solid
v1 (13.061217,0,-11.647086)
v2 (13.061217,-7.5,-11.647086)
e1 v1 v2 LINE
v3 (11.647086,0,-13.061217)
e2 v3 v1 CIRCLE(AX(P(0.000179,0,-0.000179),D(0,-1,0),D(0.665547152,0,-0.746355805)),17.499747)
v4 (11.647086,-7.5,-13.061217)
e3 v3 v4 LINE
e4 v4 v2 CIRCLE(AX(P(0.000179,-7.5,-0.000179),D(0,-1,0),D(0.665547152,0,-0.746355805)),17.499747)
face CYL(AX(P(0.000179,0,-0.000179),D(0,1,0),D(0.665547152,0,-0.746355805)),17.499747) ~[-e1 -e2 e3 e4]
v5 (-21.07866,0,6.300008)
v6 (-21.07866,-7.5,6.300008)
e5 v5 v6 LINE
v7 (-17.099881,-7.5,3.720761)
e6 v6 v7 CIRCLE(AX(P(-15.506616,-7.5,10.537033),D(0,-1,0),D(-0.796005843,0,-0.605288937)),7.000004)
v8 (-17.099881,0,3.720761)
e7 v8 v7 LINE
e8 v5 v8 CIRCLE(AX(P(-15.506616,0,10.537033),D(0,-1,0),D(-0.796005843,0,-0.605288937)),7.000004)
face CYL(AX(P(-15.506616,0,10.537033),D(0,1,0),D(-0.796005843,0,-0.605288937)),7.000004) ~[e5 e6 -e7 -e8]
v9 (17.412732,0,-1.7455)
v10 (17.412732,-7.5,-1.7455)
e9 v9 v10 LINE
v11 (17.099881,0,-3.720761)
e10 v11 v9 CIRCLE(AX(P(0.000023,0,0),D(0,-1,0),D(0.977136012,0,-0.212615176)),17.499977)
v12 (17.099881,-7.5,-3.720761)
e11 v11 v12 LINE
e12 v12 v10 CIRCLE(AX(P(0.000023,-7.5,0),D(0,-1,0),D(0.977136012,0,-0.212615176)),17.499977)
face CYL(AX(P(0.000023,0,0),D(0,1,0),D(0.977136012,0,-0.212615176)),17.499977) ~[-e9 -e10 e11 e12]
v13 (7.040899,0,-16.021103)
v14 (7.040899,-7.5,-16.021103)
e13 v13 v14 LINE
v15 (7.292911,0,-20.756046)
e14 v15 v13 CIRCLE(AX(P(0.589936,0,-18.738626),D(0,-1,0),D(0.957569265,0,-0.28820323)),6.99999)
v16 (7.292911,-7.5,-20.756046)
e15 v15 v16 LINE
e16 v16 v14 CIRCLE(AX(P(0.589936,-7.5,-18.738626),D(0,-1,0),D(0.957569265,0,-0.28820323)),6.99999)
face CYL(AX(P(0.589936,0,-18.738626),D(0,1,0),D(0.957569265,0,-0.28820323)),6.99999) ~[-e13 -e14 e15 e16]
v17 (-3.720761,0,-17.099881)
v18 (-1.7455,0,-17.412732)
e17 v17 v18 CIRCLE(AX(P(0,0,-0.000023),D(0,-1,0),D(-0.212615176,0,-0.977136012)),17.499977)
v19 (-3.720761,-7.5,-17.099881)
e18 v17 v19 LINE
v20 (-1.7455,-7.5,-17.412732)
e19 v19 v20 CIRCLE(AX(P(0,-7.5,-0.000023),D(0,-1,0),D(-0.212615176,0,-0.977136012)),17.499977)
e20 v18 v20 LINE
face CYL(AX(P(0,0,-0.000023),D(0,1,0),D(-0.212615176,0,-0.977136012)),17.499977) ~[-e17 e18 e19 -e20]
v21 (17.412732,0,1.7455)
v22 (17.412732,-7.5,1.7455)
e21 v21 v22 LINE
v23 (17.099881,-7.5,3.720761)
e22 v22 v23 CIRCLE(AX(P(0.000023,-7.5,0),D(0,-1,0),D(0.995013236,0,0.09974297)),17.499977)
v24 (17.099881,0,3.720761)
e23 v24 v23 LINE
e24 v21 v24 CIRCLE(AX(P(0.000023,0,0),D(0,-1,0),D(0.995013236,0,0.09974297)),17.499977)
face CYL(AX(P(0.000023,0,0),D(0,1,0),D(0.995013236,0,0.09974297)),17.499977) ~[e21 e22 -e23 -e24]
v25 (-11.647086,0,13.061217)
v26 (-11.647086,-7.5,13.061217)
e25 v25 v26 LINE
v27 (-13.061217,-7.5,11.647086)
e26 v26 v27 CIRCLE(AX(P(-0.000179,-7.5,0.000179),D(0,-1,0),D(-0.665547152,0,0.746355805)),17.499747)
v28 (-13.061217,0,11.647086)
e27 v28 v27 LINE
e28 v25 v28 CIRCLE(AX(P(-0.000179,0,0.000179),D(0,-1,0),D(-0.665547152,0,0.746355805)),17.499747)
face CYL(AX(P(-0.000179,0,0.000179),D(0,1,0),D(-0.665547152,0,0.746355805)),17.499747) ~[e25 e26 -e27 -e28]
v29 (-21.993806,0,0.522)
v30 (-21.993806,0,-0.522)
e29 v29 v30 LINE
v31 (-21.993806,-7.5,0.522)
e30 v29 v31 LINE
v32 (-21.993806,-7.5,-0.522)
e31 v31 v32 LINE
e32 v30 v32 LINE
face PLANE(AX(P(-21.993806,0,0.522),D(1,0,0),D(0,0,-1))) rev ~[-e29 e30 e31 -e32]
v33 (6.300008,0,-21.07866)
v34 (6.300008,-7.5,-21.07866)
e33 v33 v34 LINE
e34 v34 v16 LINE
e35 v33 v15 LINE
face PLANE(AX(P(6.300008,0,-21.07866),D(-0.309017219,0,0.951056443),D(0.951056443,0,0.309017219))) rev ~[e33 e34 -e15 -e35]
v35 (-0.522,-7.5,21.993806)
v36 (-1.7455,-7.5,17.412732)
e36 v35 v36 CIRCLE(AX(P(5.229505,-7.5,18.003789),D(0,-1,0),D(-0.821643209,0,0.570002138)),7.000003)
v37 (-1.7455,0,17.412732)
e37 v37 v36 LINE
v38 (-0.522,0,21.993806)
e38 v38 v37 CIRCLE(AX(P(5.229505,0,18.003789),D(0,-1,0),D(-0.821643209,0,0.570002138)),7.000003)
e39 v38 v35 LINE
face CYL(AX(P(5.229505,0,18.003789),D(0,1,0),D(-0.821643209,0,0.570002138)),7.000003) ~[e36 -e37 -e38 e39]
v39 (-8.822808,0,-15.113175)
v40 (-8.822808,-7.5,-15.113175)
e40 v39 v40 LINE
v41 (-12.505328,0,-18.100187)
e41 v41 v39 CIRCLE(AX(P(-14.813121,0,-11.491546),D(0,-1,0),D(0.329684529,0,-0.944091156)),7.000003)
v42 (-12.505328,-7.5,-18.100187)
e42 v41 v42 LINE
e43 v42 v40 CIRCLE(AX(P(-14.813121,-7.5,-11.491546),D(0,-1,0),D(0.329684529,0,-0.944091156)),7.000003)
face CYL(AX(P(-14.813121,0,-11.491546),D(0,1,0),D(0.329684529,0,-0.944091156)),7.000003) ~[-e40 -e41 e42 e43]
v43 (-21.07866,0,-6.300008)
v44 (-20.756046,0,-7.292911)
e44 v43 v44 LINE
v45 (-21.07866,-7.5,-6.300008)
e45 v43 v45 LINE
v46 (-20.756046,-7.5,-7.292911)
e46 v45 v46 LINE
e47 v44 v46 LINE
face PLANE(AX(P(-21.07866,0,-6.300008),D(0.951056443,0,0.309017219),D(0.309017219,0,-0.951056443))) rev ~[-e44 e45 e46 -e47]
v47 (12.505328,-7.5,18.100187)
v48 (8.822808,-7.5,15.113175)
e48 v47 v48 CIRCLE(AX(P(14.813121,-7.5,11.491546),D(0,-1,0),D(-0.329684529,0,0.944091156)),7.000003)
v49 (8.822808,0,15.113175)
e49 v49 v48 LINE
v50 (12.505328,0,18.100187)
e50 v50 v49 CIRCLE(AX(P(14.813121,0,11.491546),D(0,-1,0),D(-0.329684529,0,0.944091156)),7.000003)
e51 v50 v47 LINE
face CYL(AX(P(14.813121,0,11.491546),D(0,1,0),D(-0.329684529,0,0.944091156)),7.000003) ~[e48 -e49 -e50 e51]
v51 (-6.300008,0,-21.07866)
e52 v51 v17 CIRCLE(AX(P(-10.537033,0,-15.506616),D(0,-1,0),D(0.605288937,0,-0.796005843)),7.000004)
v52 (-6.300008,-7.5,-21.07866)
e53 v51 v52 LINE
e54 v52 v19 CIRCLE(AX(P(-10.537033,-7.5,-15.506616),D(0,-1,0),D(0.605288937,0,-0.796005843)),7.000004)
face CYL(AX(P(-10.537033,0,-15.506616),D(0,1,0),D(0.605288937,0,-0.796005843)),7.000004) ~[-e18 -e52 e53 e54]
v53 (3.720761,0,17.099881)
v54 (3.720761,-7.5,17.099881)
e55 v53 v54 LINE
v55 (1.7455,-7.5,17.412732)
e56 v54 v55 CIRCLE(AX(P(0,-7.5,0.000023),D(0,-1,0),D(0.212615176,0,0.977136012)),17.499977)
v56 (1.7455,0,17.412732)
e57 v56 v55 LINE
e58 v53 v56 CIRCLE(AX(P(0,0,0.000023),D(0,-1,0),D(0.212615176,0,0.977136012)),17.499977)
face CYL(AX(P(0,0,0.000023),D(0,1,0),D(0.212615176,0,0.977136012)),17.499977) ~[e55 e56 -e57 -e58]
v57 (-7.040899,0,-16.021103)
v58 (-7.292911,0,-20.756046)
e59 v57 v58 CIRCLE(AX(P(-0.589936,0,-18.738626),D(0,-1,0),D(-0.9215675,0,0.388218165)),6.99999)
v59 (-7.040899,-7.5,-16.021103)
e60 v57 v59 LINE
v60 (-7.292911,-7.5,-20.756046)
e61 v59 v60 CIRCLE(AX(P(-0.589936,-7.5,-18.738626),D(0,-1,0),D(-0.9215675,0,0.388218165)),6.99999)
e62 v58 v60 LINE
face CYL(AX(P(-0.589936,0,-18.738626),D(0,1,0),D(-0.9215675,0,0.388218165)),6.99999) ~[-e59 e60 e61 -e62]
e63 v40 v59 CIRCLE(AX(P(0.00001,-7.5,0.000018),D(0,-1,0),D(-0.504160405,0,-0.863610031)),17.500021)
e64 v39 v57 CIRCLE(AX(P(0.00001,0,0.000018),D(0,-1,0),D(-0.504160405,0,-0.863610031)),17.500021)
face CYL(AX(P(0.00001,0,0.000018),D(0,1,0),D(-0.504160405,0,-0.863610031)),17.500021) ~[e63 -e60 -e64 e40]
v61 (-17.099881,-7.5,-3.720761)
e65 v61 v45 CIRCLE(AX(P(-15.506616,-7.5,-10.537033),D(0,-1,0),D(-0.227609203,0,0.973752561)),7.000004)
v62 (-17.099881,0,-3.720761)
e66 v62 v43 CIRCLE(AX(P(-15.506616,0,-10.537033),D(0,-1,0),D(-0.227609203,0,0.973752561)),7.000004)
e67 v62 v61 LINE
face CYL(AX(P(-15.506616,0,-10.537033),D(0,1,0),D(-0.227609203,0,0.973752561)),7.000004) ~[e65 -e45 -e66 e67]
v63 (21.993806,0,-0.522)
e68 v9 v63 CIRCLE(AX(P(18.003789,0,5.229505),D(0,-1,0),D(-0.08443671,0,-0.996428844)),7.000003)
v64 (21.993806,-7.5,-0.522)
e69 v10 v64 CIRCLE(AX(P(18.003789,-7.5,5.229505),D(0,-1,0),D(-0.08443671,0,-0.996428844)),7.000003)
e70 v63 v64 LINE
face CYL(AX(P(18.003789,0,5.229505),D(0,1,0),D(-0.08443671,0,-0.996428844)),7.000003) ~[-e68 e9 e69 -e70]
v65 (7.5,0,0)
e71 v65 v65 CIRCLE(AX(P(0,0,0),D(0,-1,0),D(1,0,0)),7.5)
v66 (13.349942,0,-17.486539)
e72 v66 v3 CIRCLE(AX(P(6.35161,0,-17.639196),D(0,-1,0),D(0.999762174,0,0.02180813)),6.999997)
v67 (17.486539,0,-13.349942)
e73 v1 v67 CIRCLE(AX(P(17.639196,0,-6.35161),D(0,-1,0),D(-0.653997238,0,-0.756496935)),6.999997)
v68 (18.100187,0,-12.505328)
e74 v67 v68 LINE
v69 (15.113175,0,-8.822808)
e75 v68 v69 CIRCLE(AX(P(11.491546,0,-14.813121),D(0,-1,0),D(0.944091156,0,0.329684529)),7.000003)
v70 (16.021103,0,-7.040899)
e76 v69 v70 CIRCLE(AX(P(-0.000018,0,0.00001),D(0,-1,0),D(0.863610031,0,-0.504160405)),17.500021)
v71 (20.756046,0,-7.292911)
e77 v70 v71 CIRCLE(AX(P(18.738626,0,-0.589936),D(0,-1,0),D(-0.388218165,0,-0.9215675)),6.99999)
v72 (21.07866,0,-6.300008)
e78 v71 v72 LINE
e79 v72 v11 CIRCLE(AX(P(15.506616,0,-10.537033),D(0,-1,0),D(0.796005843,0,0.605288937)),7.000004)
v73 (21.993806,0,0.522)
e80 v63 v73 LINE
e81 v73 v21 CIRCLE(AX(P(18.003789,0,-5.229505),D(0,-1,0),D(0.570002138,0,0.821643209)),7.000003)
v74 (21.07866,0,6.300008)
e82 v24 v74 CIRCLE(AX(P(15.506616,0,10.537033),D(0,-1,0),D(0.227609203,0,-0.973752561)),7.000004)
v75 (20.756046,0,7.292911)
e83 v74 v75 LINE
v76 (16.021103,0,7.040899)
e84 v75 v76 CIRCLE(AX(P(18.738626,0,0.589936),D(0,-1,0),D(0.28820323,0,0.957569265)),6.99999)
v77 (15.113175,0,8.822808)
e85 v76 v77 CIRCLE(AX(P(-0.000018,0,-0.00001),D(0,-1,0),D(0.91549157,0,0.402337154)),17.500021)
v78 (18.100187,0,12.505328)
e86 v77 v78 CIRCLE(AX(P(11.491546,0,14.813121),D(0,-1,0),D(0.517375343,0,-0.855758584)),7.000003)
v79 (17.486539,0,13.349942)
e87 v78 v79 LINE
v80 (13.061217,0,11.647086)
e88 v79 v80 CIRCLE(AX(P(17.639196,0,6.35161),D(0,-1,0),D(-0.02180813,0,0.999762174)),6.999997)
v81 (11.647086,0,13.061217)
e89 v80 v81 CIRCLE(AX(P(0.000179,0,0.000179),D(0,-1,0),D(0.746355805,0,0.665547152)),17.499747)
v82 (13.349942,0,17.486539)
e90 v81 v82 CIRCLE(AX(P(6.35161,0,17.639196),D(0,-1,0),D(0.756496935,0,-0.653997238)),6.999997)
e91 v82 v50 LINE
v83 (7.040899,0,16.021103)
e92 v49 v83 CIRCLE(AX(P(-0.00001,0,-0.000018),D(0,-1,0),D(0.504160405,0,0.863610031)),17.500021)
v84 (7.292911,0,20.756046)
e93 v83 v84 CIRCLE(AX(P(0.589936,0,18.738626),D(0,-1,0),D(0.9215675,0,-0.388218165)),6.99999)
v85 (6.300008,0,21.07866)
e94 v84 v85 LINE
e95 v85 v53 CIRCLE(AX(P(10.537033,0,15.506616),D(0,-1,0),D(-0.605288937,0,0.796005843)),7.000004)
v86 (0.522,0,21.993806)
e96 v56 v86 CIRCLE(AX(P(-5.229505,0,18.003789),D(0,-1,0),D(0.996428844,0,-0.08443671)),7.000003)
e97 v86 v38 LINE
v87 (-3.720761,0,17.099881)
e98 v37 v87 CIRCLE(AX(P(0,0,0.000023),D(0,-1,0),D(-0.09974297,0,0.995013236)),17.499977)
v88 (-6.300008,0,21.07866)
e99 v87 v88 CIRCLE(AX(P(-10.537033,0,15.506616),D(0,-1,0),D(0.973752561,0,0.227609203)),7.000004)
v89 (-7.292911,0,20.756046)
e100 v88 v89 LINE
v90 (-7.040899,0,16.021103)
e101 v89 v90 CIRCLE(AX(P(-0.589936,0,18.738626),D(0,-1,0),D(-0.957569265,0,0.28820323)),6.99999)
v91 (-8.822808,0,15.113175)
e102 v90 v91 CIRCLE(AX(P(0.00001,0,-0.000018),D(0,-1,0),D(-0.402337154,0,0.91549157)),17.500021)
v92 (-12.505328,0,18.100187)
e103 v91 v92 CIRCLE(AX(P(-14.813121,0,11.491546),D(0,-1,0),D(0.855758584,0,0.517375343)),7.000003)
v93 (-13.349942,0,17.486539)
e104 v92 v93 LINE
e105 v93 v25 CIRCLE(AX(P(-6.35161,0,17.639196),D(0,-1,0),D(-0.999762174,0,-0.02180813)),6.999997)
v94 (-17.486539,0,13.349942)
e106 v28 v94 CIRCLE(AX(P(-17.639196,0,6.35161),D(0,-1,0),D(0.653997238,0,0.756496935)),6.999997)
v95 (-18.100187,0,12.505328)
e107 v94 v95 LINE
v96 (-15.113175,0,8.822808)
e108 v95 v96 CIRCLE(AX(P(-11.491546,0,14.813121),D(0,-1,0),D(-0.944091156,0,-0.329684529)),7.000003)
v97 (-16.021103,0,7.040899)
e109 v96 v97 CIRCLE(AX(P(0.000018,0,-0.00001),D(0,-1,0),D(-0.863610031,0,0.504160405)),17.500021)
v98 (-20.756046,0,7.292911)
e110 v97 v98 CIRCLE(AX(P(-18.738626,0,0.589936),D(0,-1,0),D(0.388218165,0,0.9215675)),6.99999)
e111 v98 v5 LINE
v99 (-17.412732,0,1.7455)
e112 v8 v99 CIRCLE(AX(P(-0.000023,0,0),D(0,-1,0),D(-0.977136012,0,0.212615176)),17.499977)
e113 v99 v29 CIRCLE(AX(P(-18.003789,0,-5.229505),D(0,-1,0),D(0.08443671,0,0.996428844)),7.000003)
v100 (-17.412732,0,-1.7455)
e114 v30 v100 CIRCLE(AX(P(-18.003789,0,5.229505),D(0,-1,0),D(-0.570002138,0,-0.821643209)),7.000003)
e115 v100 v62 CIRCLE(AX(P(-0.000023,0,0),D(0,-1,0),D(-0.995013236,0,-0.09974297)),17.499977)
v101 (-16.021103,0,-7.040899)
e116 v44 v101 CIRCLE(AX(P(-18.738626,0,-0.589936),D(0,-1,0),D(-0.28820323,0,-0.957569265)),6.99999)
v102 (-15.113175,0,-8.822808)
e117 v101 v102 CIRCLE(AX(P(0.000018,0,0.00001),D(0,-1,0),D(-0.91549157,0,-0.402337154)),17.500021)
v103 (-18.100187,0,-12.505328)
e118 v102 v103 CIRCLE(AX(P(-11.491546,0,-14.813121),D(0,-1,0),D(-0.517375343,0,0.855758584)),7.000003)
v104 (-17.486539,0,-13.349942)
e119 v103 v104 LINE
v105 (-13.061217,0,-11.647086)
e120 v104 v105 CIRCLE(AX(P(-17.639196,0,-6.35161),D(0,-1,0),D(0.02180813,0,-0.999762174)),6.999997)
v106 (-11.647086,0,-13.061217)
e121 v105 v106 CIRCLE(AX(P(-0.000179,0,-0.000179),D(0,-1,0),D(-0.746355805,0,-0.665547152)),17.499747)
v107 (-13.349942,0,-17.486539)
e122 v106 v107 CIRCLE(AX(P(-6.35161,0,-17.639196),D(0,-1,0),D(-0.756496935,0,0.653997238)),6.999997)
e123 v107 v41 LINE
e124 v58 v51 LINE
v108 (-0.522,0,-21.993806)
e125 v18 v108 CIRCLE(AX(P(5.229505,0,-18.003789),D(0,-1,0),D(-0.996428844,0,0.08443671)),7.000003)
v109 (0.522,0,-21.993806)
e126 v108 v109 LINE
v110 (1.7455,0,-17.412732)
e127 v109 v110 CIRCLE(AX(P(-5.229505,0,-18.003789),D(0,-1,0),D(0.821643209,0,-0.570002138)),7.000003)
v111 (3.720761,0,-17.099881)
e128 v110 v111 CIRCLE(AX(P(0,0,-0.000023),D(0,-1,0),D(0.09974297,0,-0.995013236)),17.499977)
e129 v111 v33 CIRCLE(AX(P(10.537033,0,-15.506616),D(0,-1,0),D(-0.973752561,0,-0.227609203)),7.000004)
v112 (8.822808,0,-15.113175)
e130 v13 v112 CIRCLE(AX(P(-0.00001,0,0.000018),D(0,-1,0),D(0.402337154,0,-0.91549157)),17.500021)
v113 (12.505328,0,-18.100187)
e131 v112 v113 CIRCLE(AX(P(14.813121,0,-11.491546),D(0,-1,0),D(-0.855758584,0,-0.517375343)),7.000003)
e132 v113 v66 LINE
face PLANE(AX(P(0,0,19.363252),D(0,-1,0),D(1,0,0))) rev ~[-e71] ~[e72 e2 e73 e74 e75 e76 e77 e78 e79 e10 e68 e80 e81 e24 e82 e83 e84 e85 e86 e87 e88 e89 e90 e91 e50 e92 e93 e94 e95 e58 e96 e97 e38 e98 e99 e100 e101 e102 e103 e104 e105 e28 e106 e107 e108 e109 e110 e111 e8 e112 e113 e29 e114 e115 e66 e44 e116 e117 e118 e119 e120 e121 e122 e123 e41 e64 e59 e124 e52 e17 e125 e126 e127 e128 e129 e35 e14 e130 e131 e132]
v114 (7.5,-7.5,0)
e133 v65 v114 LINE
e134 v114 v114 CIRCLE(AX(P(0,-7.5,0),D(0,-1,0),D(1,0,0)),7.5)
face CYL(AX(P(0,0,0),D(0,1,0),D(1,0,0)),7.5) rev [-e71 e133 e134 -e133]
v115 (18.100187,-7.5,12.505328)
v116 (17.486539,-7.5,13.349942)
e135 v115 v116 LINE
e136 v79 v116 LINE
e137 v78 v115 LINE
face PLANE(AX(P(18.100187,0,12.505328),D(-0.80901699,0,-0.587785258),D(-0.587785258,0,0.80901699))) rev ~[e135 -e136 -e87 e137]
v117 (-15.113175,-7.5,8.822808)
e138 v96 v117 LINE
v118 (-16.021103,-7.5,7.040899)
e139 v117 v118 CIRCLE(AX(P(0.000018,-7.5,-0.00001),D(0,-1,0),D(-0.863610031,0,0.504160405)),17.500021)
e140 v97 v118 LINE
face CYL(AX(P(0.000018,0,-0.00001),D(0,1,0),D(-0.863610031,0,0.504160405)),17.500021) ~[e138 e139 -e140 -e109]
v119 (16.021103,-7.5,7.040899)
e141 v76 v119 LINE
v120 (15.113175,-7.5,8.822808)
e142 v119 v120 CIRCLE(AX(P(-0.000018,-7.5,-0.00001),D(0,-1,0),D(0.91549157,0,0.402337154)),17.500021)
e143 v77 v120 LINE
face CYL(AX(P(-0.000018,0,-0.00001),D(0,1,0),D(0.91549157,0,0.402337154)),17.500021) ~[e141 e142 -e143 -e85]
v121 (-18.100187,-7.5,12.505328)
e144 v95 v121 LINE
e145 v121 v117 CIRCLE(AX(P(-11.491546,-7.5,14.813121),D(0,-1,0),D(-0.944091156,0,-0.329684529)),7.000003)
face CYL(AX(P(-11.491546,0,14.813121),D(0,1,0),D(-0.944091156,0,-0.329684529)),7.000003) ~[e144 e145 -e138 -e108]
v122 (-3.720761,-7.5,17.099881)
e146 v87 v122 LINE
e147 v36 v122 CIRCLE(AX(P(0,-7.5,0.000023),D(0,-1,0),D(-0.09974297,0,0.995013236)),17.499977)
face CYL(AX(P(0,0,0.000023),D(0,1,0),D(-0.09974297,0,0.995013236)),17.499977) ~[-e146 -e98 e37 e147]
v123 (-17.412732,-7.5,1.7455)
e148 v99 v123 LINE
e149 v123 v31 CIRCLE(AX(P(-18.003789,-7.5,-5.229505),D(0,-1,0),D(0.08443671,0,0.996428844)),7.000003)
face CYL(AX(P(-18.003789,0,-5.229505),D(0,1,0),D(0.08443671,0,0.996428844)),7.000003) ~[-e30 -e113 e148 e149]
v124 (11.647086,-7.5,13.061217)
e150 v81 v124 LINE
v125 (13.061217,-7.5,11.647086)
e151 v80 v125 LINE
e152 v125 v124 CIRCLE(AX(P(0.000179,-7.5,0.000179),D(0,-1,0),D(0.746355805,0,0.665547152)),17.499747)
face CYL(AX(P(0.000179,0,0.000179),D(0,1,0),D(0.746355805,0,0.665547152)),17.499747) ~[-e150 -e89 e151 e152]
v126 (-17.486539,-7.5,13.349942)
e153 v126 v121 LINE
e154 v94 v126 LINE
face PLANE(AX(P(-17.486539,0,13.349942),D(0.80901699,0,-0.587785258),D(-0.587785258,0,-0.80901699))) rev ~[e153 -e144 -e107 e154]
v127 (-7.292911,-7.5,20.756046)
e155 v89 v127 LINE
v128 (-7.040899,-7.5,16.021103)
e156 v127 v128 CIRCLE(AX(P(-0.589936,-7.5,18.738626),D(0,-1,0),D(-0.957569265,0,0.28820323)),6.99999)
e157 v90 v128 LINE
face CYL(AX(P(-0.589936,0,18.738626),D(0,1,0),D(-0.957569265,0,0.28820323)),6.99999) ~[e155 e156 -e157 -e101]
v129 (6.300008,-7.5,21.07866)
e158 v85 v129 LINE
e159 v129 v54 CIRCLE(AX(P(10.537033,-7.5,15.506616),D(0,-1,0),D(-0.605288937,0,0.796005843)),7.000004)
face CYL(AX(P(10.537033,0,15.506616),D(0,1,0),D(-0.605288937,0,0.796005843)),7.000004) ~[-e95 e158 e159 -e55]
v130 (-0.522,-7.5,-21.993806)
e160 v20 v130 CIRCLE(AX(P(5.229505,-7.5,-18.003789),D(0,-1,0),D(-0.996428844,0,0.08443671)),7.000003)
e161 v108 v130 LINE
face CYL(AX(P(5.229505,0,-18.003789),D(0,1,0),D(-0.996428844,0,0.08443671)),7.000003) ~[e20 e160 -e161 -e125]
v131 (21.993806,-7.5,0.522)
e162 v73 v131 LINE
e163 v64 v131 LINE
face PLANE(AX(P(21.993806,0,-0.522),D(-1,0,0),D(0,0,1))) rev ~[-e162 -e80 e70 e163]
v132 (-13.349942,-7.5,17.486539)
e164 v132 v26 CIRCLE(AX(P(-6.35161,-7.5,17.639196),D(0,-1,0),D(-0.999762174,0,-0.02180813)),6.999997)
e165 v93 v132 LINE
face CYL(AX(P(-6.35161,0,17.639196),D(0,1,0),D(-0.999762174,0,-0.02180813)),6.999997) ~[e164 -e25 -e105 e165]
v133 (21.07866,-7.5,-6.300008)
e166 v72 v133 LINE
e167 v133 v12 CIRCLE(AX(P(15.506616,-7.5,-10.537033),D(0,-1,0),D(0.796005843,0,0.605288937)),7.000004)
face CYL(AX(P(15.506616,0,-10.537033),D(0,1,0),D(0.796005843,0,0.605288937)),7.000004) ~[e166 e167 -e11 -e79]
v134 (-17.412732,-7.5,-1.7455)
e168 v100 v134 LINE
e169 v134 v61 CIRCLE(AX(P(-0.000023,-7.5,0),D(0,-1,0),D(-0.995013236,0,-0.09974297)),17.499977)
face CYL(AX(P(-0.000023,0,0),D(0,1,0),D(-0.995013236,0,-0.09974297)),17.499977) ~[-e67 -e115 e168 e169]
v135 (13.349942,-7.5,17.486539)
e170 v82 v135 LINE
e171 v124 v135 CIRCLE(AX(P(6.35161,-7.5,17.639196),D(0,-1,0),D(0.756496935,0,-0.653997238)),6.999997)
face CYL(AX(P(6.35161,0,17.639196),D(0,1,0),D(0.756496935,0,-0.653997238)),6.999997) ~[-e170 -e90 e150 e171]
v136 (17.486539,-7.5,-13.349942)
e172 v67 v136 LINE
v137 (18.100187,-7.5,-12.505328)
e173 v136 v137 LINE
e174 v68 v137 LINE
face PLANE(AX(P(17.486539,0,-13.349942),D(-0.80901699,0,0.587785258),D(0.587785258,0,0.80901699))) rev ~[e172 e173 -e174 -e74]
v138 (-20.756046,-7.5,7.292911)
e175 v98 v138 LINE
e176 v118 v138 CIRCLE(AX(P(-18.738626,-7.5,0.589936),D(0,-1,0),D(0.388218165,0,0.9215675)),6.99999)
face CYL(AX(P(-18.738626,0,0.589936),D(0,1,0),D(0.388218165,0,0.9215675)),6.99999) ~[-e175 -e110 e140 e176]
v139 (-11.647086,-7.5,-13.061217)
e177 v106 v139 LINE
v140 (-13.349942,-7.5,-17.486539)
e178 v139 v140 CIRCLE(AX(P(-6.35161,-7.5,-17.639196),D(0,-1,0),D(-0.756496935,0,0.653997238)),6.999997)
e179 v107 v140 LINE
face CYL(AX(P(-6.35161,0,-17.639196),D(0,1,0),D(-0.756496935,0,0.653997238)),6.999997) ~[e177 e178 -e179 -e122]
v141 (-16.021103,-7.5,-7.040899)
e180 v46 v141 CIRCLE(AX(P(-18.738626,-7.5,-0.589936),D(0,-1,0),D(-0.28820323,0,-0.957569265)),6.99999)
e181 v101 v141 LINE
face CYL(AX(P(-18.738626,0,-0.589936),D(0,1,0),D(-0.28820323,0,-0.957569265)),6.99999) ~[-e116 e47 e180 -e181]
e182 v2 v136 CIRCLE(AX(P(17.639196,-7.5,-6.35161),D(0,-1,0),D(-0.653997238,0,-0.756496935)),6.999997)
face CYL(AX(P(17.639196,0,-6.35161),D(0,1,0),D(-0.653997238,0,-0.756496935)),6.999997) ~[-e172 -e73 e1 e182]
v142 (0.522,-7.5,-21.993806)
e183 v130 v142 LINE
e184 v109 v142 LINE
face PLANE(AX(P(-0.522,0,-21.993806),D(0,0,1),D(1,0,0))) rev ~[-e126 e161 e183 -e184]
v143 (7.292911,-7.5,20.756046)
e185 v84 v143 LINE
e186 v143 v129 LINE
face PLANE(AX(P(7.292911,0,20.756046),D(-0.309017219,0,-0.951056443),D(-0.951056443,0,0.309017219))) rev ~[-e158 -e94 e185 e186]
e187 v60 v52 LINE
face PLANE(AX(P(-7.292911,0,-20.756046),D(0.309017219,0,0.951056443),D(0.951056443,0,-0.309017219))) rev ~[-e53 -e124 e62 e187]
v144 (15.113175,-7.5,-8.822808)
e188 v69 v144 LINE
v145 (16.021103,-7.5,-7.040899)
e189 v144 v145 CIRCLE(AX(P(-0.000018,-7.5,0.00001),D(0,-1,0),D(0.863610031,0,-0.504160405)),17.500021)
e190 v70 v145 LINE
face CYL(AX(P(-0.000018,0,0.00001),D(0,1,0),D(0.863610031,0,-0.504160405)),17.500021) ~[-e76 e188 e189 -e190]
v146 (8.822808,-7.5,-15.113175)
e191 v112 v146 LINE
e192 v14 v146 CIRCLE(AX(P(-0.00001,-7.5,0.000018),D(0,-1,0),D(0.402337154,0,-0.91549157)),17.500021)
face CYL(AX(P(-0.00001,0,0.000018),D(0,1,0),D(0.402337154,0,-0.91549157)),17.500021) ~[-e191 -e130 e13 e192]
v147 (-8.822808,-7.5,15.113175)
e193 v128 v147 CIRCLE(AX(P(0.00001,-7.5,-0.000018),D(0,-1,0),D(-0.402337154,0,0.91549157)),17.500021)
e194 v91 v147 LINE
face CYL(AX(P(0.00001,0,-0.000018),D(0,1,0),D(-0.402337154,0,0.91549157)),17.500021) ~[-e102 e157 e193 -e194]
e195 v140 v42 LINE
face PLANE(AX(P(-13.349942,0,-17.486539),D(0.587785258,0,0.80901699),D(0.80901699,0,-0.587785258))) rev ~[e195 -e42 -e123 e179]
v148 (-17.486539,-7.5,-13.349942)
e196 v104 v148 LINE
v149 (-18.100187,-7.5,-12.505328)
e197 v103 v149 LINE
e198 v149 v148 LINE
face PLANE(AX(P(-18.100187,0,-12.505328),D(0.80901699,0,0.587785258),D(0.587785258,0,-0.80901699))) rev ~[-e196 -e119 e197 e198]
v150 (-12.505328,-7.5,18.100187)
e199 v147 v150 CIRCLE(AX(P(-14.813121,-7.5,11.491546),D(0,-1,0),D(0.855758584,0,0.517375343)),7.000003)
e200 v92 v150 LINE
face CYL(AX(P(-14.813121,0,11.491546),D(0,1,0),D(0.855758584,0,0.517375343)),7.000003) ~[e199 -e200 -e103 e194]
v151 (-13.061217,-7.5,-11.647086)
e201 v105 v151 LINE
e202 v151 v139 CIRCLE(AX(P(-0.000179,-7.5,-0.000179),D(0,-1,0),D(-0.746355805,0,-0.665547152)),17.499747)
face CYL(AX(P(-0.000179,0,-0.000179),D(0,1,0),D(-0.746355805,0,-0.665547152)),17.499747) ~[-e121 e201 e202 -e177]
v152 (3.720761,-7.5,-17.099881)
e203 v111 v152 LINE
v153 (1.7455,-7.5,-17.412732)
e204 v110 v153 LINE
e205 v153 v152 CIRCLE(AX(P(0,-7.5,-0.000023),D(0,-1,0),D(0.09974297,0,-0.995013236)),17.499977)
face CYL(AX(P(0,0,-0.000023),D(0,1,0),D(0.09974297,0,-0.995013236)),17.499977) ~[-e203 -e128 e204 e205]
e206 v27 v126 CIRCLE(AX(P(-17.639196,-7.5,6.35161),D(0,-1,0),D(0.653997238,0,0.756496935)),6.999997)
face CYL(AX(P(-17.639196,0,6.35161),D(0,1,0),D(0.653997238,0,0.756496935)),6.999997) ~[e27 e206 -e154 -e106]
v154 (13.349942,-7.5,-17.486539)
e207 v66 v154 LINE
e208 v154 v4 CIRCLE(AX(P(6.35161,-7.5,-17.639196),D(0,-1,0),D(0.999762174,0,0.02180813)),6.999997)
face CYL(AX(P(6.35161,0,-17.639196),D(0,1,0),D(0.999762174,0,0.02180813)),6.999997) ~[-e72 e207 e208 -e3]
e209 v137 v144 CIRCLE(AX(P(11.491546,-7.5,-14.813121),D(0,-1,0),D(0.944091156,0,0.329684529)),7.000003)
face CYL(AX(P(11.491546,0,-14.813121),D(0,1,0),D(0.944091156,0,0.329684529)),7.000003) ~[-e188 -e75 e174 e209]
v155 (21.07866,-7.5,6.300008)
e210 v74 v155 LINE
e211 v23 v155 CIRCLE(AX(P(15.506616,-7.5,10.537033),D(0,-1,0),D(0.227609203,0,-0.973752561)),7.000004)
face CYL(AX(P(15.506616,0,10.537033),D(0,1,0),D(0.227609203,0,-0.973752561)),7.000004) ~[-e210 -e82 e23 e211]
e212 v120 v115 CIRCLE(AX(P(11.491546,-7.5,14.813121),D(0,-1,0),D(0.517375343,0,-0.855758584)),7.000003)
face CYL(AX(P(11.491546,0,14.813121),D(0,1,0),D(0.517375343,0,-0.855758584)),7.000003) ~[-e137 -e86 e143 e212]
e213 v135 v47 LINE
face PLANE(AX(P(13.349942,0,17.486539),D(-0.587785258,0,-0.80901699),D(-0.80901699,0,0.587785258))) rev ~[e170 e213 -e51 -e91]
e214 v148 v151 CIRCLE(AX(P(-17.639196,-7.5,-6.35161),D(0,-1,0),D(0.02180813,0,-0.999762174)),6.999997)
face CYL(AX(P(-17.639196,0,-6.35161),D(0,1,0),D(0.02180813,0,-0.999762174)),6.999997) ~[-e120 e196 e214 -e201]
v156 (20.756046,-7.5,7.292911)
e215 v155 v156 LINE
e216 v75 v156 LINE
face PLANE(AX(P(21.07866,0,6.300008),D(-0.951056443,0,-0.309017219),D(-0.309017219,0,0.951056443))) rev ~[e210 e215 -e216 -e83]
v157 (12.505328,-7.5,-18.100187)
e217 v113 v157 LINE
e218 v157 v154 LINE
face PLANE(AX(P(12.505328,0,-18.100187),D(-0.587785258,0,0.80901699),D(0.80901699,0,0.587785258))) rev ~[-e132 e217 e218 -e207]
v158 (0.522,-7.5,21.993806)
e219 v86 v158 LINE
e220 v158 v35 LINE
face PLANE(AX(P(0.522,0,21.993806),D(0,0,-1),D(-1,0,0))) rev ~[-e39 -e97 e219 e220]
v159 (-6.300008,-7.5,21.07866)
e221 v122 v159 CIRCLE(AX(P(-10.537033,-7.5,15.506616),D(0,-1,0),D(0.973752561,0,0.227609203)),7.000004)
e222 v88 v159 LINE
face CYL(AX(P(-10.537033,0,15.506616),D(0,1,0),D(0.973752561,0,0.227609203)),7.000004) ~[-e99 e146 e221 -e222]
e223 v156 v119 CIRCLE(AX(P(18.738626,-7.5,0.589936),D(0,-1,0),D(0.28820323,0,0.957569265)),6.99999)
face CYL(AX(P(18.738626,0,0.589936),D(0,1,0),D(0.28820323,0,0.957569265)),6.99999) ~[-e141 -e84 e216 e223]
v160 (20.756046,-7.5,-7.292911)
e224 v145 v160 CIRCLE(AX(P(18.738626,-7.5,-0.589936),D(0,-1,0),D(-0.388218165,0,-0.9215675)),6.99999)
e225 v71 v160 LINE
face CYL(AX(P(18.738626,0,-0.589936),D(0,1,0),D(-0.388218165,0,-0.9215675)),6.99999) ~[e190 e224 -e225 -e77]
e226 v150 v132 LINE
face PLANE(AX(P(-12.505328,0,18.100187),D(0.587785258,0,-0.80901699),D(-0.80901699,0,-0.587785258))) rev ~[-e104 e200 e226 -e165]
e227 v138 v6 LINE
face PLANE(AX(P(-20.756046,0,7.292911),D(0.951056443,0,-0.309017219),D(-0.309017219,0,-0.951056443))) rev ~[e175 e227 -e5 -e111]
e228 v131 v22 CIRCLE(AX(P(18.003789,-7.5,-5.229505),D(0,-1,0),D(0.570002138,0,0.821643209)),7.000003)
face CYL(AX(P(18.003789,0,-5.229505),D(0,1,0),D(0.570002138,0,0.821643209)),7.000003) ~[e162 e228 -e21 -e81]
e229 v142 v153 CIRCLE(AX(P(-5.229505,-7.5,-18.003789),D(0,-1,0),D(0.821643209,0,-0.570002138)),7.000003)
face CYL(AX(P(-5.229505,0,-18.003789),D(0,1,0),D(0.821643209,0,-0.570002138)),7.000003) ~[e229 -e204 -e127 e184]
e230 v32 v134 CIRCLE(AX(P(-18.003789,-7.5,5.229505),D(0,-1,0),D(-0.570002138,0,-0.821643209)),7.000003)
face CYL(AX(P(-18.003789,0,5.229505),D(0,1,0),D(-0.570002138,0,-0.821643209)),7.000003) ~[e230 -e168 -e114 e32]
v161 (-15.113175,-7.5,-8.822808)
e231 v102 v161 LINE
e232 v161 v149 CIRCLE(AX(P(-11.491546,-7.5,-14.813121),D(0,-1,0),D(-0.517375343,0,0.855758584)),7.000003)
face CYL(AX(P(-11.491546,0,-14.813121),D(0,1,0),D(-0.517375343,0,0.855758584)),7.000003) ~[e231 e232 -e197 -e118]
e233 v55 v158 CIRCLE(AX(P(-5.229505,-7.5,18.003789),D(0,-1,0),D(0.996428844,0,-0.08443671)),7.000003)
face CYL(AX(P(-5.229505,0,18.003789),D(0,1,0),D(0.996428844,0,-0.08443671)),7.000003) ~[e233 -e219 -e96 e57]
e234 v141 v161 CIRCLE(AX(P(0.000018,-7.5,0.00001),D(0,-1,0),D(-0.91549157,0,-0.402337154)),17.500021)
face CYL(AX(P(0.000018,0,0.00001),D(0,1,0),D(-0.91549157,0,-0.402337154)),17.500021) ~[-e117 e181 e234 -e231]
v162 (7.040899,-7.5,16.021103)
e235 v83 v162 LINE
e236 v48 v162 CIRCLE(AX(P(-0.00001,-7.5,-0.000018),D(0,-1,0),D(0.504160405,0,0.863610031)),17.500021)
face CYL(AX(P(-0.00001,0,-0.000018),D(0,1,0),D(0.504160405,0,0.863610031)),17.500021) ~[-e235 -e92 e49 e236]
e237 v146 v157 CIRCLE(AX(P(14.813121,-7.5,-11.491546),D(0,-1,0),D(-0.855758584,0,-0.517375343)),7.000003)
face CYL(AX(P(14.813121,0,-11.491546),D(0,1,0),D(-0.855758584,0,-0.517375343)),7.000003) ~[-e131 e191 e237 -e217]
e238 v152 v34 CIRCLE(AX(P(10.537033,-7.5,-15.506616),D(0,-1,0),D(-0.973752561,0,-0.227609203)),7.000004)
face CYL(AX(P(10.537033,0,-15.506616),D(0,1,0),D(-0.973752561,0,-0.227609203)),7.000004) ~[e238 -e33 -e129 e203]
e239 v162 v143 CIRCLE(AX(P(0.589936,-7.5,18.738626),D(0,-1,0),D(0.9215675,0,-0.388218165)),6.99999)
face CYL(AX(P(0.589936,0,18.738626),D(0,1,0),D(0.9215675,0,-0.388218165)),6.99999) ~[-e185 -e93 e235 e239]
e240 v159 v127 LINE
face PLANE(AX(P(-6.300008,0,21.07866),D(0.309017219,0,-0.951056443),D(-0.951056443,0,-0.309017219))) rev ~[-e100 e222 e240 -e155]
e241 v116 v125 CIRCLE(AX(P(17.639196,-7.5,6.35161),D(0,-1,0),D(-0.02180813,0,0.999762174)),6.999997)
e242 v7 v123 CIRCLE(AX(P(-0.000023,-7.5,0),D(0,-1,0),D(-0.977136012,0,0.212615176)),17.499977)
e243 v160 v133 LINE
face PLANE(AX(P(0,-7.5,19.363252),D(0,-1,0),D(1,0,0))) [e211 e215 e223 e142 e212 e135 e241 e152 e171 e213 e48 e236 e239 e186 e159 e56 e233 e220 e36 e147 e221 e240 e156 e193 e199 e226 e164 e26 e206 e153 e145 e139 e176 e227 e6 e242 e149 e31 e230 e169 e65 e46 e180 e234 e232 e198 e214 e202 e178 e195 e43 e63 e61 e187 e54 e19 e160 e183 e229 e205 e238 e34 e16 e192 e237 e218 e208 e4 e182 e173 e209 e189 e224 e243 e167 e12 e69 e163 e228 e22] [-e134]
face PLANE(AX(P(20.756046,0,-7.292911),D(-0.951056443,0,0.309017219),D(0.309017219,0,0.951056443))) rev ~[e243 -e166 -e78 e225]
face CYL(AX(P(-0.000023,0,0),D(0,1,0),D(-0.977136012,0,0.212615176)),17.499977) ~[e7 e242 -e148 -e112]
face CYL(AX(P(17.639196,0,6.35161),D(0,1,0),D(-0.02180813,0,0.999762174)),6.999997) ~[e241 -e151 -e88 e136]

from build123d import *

# Parameters (mm, degrees)
F0_R     = 7.5
F1_DEPTH = 7.5


with BuildPart() as f1:
    # F0 (on Front) → F1 (new body)
    with BuildSketch(Plane.XZ):
        with BuildLine():
            ThreePointArc((-1.7455, 17.412732), (0, 17.5), (1.7455, 17.412732))
            ThreePointArc((1.7455, 17.412732), (1.533451, 19.81002), (0.522, 21.993806))
            Line((0.522, 21.993806), (-0.522, 21.993806))
            ThreePointArc((-0.522, 21.993806), (-1.533451, 19.81002), (-1.7455, 17.412732))
        make_face()
        with BuildLine():
            ThreePointArc((17.412732, -1.7455), (17.478169, -0.87384), (17.5, 0))
            ThreePointArc((17.5, 0), (17.478169, 0.87384), (17.412732, 1.7455))
            ThreePointArc((17.412732, 1.7455), (17.284546, 2.737603), (17.099881, 3.720761))
            ThreePointArc((17.099881, 3.720761), (16.643489, 5.407797), (16.021103, 7.040899))
            ThreePointArc((16.021103, 7.040899), (15.592614, 7.944834), (15.113175, 8.822808))
            ThreePointArc((15.113175, 8.822808), (14.157797, 10.286242), (13.061217, 11.647086))
            ThreePointArc((13.061217, 11.647086), (12.374369, 12.374369), (11.647086, 13.061217))
            ThreePointArc((11.647086, 13.061217), (10.286242, 14.157797), (8.822808, 15.113175))
            ThreePointArc((8.822808, 15.113175), (7.944834, 15.592614), (7.040899, 16.021103))
            ThreePointArc((7.040899, 16.021103), (5.407797, 16.643489), (3.720761, 17.099881))
            ThreePointArc((3.720761, 17.099881), (2.737603, 17.284546), (1.7455, 17.412732))
            ThreePointArc((1.7455, 17.412732), (0, 17.5), (-1.7455, 17.412732))
            ThreePointArc((-1.7455, 17.412732), (-2.737603, 17.284546), (-3.720761, 17.099881))
            ThreePointArc((-3.720761, 17.099881), (-5.407797, 16.643489), (-7.040899, 16.021103))
            ThreePointArc((-7.040899, 16.021103), (-7.944834, 15.592614), (-8.822808, 15.113175))
            ThreePointArc((-8.822808, 15.113175), (-10.286242, 14.157797), (-11.647086, 13.061217))
            ThreePointArc((-11.647086, 13.061217), (-12.374369, 12.374369), (-13.061217, 11.647086))
            ThreePointArc((-13.061217, 11.647086), (-14.157797, 10.286242), (-15.113175, 8.822808))
            ThreePointArc((-15.113175, 8.822808), (-15.592614, 7.944834), (-16.021103, 7.040899))
            ThreePointArc((-16.021103, 7.040899), (-16.643489, 5.407797), (-17.099881, 3.720761))
            ThreePointArc((-17.099881, 3.720761), (-17.284546, 2.737603), (-17.412732, 1.7455))
            ThreePointArc((-17.412732, 1.7455), (-17.5, 0), (-17.412732, -1.7455))
            ThreePointArc((-17.412732, -1.7455), (-17.284546, -2.737603), (-17.099881, -3.720761))
            ThreePointArc((-17.099881, -3.720761), (-16.643489, -5.407797), (-16.021103, -7.040899))
            ThreePointArc((-16.021103, -7.040899), (-15.592614, -7.944834), (-15.113175, -8.822808))
            ThreePointArc((-15.113175, -8.822808), (-14.157797, -10.286242), (-13.061217, -11.647086))
            ThreePointArc((-13.061217, -11.647086), (-12.374369, -12.374369), (-11.647086, -13.061217))
            ThreePointArc((-11.647086, -13.061217), (-10.286242, -14.157797), (-8.822808, -15.113175))
            ThreePointArc((-8.822808, -15.113175), (-7.944834, -15.592614), (-7.040899, -16.021103))
            ThreePointArc((-7.040899, -16.021103), (-5.407797, -16.643489), (-3.720761, -17.099881))
            ThreePointArc((-3.720761, -17.099881), (-2.737603, -17.284546), (-1.7455, -17.412732))
            ThreePointArc((-1.7455, -17.412732), (0, -17.5), (1.7455, -17.412732))
            ThreePointArc((1.7455, -17.412732), (2.737603, -17.284546), (3.720761, -17.099881))
            ThreePointArc((3.720761, -17.099881), (5.407797, -16.643489), (7.040899, -16.021103))
            ThreePointArc((7.040899, -16.021103), (7.944834, -15.592614), (8.822808, -15.113175))
            ThreePointArc((8.822808, -15.113175), (10.286242, -14.157797), (11.647086, -13.061217))
            ThreePointArc((11.647086, -13.061217), (12.374369, -12.374369), (13.061217, -11.647086))
            ThreePointArc((13.061217, -11.647086), (14.157797, -10.286242), (15.113175, -8.822808))
            ThreePointArc((15.113175, -8.822808), (15.592614, -7.944834), (16.021103, -7.040899))
            ThreePointArc((16.021103, -7.040899), (16.643489, -5.407797), (17.099881, -3.720761))
            ThreePointArc((17.099881, -3.720761), (17.284546, -2.737603), (17.412732, -1.7455))
        make_face()
        Circle(F0_R, mode=Mode.SUBTRACT)
        with BuildLine():
            ThreePointArc((-7.040899, 16.021103), (-5.407797, 16.643489), (-3.720761, 17.099881))
            ThreePointArc((-3.720761, 17.099881), (-4.663234, 19.314311), (-6.300008, 21.07866))
            Line((-6.300008, 21.07866), (-7.292911, 20.756046))
            ThreePointArc((-7.292911, 20.756046), (-7.580032, 18.366586), (-7.040899, 16.021103))
        make_face()
        with BuildLine():
            ThreePointArc((-11.647086, 13.061217), (-10.286242, 14.157797), (-8.822808, 15.113175))
            ThreePointArc((-8.822808, 15.113175), (-10.40345, 16.927983), (-12.505328, 18.100187))
            Line((-12.505328, 18.100187), (-13.349942, 17.486539))
            ThreePointArc((-13.349942, 17.486539), (-12.884626, 15.125303), (-11.647086, 13.061217))
        make_face()
        with BuildLine():
            ThreePointArc((-15.113175, 8.822808), (-14.157797, 10.286242), (-13.061217, 11.647086))
            ThreePointArc((-13.061217, 11.647086), (-15.125303, 12.884626), (-17.486539, 13.349942))
            Line((-17.486539, 13.349942), (-18.100187, 12.505328))
            ThreePointArc((-18.100187, 12.505328), (-16.927983, 10.40345), (-15.113175, 8.822808))
        make_face()
        with BuildLine():
            ThreePointArc((-17.099881, 3.720761), (-16.643489, 5.407797), (-16.021103, 7.040899))
            ThreePointArc((-16.021103, 7.040899), (-18.366586, 7.580032), (-20.756046, 7.292911))
            Line((-20.756046, 7.292911), (-21.07866, 6.300008))
            ThreePointArc((-21.07866, 6.300008), (-19.314311, 4.663234), (-17.099881, 3.720761))
        make_face()
        with BuildLine():
            ThreePointArc((-17.412732, -1.7455), (-17.5, 0), (-17.412732, 1.7455))
            ThreePointArc((-17.412732, 1.7455), (-19.81002, 1.533451), (-21.993806, 0.522))
            Line((-21.993806, 0.522), (-21.993806, -0.522))
            ThreePointArc((-21.993806, -0.522), (-19.81002, -1.533451), (-17.412732, -1.7455))
        make_face()
        with BuildLine():
            ThreePointArc((-20.756046, -7.292911), (-18.366586, -7.580032), (-16.021103, -7.040899))
            ThreePointArc((-16.021103, -7.040899), (-16.643489, -5.407797), (-17.099881, -3.720761))
            ThreePointArc((-17.099881, -3.720761), (-19.314311, -4.663234), (-21.07866, -6.300008))
            Line((-21.07866, -6.300008), (-20.756046, -7.292911))
        make_face()
        with BuildLine():
            ThreePointArc((-17.486539, -13.349942), (-15.125303, -12.884626), (-13.061217, -11.647086))
            ThreePointArc((-13.061217, -11.647086), (-14.157797, -10.286242), (-15.113175, -8.822808))
            ThreePointArc((-15.113175, -8.822808), (-16.927983, -10.40345), (-18.100187, -12.505328))
            Line((-18.100187, -12.505328), (-17.486539, -13.349942))
        make_face()
        with BuildLine():
            ThreePointArc((-12.505328, -18.100187), (-10.40345, -16.927983), (-8.822808, -15.113175))
            ThreePointArc((-8.822808, -15.113175), (-10.286242, -14.157797), (-11.647086, -13.061217))
            ThreePointArc((-11.647086, -13.061217), (-12.884626, -15.125303), (-13.349942, -17.486539))
            Line((-13.349942, -17.486539), (-12.505328, -18.100187))
        make_face()
        with BuildLine():
            ThreePointArc((-6.300008, -21.07866), (-4.663234, -19.314311), (-3.720761, -17.099881))
            ThreePointArc((-3.720761, -17.099881), (-5.407797, -16.643489), (-7.040899, -16.021103))
            ThreePointArc((-7.040899, -16.021103), (-7.580032, -18.366586), (-7.292911, -20.756046))
            Line((-7.292911, -20.756046), (-6.300008, -21.07866))
        make_face()
        with BuildLine():
            ThreePointArc((0.522, -21.993806), (1.533451, -19.81002), (1.7455, -17.412732))
            ThreePointArc((1.7455, -17.412732), (0, -17.5), (-1.7455, -17.412732))
            ThreePointArc((-1.7455, -17.412732), (-1.533451, -19.81002), (-0.522, -21.993806))
            Line((-0.522, -21.993806), (0.522, -21.993806))
        make_face()
        with BuildLine():
            ThreePointArc((7.292911, -20.756046), (7.580032, -18.366586), (7.040899, -16.021103))
            ThreePointArc((7.040899, -16.021103), (5.407797, -16.643489), (3.720761, -17.099881))
            ThreePointArc((3.720761, -17.099881), (4.663234, -19.314311), (6.300008, -21.07866))
            Line((6.300008, -21.07866), (7.292911, -20.756046))
        make_face()
        with BuildLine():
            ThreePointArc((13.349942, -17.486539), (12.884626, -15.125303), (11.647086, -13.061217))
            ThreePointArc((11.647086, -13.061217), (10.286242, -14.157797), (8.822808, -15.113175))
            ThreePointArc((8.822808, -15.113175), (10.40345, -16.927983), (12.505328, -18.100187))
            Line((12.505328, -18.100187), (13.349942, -17.486539))
        make_face()
        with BuildLine():
            ThreePointArc((21.07866, -6.300008), (19.314311, -4.663234), (17.099881, -3.720761))
            ThreePointArc((17.099881, -3.720761), (16.643489, -5.407797), (16.021103, -7.040899))
            ThreePointArc((16.021103, -7.040899), (18.366586, -7.580032), (20.756046, -7.292911))
            Line((20.756046, -7.292911), (21.07866, -6.300008))
        make_face()
        with BuildLine():
            ThreePointArc((17.412732, 1.7455), (17.478169, 0.87384), (17.5, 0))
            ThreePointArc((17.5, 0), (17.478169, -0.87384), (17.412732, -1.7455))
            ThreePointArc((17.412732, -1.7455), (19.81002, -1.533451), (21.993806, -0.522))
            Line((21.993806, -0.522), (21.993806, 0.522))
            ThreePointArc((21.993806, 0.522), (19.81002, 1.533451), (17.412732, 1.7455))
        make_face()
        with BuildLine():
            ThreePointArc((18.100187, -12.505328), (16.927983, -10.40345), (15.113175, -8.822808))
            ThreePointArc((15.113175, -8.822808), (14.157797, -10.286242), (13.061217, -11.647086))
            ThreePointArc((13.061217, -11.647086), (15.125303, -12.884626), (17.486539, -13.349942))
            Line((17.486539, -13.349942), (18.100187, -12.505328))
        make_face()
        with BuildLine():
            ThreePointArc((16.021103, 7.040899), (16.643489, 5.407797), (17.099881, 3.720761))
            ThreePointArc((17.099881, 3.720761), (19.314311, 4.663234), (21.07866, 6.300008))
            Line((21.07866, 6.300008), (20.756046, 7.292911))
            ThreePointArc((20.756046, 7.292911), (18.366586, 7.580032), (16.021103, 7.040899))
        make_face()
        with BuildLine():
            ThreePointArc((13.061217, 11.647086), (14.157797, 10.286242), (15.113175, 8.822808))
            ThreePointArc((15.113175, 8.822808), (16.927983, 10.40345), (18.100187, 12.505328))
            Line((18.100187, 12.505328), (17.486539, 13.349942))
            ThreePointArc((17.486539, 13.349942), (15.125303, 12.884626), (13.061217, 11.647086))
        make_face()
        with BuildLine():
            ThreePointArc((8.822808, 15.113175), (10.286242, 14.157797), (11.647086, 13.061217))
            ThreePointArc((11.647086, 13.061217), (12.884626, 15.125303), (13.349942, 17.486539))
            Line((13.349942, 17.486539), (12.505328, 18.100187))
            ThreePointArc((12.505328, 18.100187), (10.40345, 16.927983), (8.822808, 15.113175))
        make_face()
        with BuildLine():
            ThreePointArc((3.720761, 17.099881), (5.407797, 16.643489), (7.040899, 16.021103))
            ThreePointArc((7.040899, 16.021103), (7.580032, 18.366586), (7.292911, 20.756046))
            Line((7.292911, 20.756046), (6.300008, 21.07866))
            ThreePointArc((6.300008, 21.07866), (4.663234, 19.314311), (3.720761, 17.099881))
        make_face()
    extrude(amount=F1_DEPTH)


solid = f1.part
